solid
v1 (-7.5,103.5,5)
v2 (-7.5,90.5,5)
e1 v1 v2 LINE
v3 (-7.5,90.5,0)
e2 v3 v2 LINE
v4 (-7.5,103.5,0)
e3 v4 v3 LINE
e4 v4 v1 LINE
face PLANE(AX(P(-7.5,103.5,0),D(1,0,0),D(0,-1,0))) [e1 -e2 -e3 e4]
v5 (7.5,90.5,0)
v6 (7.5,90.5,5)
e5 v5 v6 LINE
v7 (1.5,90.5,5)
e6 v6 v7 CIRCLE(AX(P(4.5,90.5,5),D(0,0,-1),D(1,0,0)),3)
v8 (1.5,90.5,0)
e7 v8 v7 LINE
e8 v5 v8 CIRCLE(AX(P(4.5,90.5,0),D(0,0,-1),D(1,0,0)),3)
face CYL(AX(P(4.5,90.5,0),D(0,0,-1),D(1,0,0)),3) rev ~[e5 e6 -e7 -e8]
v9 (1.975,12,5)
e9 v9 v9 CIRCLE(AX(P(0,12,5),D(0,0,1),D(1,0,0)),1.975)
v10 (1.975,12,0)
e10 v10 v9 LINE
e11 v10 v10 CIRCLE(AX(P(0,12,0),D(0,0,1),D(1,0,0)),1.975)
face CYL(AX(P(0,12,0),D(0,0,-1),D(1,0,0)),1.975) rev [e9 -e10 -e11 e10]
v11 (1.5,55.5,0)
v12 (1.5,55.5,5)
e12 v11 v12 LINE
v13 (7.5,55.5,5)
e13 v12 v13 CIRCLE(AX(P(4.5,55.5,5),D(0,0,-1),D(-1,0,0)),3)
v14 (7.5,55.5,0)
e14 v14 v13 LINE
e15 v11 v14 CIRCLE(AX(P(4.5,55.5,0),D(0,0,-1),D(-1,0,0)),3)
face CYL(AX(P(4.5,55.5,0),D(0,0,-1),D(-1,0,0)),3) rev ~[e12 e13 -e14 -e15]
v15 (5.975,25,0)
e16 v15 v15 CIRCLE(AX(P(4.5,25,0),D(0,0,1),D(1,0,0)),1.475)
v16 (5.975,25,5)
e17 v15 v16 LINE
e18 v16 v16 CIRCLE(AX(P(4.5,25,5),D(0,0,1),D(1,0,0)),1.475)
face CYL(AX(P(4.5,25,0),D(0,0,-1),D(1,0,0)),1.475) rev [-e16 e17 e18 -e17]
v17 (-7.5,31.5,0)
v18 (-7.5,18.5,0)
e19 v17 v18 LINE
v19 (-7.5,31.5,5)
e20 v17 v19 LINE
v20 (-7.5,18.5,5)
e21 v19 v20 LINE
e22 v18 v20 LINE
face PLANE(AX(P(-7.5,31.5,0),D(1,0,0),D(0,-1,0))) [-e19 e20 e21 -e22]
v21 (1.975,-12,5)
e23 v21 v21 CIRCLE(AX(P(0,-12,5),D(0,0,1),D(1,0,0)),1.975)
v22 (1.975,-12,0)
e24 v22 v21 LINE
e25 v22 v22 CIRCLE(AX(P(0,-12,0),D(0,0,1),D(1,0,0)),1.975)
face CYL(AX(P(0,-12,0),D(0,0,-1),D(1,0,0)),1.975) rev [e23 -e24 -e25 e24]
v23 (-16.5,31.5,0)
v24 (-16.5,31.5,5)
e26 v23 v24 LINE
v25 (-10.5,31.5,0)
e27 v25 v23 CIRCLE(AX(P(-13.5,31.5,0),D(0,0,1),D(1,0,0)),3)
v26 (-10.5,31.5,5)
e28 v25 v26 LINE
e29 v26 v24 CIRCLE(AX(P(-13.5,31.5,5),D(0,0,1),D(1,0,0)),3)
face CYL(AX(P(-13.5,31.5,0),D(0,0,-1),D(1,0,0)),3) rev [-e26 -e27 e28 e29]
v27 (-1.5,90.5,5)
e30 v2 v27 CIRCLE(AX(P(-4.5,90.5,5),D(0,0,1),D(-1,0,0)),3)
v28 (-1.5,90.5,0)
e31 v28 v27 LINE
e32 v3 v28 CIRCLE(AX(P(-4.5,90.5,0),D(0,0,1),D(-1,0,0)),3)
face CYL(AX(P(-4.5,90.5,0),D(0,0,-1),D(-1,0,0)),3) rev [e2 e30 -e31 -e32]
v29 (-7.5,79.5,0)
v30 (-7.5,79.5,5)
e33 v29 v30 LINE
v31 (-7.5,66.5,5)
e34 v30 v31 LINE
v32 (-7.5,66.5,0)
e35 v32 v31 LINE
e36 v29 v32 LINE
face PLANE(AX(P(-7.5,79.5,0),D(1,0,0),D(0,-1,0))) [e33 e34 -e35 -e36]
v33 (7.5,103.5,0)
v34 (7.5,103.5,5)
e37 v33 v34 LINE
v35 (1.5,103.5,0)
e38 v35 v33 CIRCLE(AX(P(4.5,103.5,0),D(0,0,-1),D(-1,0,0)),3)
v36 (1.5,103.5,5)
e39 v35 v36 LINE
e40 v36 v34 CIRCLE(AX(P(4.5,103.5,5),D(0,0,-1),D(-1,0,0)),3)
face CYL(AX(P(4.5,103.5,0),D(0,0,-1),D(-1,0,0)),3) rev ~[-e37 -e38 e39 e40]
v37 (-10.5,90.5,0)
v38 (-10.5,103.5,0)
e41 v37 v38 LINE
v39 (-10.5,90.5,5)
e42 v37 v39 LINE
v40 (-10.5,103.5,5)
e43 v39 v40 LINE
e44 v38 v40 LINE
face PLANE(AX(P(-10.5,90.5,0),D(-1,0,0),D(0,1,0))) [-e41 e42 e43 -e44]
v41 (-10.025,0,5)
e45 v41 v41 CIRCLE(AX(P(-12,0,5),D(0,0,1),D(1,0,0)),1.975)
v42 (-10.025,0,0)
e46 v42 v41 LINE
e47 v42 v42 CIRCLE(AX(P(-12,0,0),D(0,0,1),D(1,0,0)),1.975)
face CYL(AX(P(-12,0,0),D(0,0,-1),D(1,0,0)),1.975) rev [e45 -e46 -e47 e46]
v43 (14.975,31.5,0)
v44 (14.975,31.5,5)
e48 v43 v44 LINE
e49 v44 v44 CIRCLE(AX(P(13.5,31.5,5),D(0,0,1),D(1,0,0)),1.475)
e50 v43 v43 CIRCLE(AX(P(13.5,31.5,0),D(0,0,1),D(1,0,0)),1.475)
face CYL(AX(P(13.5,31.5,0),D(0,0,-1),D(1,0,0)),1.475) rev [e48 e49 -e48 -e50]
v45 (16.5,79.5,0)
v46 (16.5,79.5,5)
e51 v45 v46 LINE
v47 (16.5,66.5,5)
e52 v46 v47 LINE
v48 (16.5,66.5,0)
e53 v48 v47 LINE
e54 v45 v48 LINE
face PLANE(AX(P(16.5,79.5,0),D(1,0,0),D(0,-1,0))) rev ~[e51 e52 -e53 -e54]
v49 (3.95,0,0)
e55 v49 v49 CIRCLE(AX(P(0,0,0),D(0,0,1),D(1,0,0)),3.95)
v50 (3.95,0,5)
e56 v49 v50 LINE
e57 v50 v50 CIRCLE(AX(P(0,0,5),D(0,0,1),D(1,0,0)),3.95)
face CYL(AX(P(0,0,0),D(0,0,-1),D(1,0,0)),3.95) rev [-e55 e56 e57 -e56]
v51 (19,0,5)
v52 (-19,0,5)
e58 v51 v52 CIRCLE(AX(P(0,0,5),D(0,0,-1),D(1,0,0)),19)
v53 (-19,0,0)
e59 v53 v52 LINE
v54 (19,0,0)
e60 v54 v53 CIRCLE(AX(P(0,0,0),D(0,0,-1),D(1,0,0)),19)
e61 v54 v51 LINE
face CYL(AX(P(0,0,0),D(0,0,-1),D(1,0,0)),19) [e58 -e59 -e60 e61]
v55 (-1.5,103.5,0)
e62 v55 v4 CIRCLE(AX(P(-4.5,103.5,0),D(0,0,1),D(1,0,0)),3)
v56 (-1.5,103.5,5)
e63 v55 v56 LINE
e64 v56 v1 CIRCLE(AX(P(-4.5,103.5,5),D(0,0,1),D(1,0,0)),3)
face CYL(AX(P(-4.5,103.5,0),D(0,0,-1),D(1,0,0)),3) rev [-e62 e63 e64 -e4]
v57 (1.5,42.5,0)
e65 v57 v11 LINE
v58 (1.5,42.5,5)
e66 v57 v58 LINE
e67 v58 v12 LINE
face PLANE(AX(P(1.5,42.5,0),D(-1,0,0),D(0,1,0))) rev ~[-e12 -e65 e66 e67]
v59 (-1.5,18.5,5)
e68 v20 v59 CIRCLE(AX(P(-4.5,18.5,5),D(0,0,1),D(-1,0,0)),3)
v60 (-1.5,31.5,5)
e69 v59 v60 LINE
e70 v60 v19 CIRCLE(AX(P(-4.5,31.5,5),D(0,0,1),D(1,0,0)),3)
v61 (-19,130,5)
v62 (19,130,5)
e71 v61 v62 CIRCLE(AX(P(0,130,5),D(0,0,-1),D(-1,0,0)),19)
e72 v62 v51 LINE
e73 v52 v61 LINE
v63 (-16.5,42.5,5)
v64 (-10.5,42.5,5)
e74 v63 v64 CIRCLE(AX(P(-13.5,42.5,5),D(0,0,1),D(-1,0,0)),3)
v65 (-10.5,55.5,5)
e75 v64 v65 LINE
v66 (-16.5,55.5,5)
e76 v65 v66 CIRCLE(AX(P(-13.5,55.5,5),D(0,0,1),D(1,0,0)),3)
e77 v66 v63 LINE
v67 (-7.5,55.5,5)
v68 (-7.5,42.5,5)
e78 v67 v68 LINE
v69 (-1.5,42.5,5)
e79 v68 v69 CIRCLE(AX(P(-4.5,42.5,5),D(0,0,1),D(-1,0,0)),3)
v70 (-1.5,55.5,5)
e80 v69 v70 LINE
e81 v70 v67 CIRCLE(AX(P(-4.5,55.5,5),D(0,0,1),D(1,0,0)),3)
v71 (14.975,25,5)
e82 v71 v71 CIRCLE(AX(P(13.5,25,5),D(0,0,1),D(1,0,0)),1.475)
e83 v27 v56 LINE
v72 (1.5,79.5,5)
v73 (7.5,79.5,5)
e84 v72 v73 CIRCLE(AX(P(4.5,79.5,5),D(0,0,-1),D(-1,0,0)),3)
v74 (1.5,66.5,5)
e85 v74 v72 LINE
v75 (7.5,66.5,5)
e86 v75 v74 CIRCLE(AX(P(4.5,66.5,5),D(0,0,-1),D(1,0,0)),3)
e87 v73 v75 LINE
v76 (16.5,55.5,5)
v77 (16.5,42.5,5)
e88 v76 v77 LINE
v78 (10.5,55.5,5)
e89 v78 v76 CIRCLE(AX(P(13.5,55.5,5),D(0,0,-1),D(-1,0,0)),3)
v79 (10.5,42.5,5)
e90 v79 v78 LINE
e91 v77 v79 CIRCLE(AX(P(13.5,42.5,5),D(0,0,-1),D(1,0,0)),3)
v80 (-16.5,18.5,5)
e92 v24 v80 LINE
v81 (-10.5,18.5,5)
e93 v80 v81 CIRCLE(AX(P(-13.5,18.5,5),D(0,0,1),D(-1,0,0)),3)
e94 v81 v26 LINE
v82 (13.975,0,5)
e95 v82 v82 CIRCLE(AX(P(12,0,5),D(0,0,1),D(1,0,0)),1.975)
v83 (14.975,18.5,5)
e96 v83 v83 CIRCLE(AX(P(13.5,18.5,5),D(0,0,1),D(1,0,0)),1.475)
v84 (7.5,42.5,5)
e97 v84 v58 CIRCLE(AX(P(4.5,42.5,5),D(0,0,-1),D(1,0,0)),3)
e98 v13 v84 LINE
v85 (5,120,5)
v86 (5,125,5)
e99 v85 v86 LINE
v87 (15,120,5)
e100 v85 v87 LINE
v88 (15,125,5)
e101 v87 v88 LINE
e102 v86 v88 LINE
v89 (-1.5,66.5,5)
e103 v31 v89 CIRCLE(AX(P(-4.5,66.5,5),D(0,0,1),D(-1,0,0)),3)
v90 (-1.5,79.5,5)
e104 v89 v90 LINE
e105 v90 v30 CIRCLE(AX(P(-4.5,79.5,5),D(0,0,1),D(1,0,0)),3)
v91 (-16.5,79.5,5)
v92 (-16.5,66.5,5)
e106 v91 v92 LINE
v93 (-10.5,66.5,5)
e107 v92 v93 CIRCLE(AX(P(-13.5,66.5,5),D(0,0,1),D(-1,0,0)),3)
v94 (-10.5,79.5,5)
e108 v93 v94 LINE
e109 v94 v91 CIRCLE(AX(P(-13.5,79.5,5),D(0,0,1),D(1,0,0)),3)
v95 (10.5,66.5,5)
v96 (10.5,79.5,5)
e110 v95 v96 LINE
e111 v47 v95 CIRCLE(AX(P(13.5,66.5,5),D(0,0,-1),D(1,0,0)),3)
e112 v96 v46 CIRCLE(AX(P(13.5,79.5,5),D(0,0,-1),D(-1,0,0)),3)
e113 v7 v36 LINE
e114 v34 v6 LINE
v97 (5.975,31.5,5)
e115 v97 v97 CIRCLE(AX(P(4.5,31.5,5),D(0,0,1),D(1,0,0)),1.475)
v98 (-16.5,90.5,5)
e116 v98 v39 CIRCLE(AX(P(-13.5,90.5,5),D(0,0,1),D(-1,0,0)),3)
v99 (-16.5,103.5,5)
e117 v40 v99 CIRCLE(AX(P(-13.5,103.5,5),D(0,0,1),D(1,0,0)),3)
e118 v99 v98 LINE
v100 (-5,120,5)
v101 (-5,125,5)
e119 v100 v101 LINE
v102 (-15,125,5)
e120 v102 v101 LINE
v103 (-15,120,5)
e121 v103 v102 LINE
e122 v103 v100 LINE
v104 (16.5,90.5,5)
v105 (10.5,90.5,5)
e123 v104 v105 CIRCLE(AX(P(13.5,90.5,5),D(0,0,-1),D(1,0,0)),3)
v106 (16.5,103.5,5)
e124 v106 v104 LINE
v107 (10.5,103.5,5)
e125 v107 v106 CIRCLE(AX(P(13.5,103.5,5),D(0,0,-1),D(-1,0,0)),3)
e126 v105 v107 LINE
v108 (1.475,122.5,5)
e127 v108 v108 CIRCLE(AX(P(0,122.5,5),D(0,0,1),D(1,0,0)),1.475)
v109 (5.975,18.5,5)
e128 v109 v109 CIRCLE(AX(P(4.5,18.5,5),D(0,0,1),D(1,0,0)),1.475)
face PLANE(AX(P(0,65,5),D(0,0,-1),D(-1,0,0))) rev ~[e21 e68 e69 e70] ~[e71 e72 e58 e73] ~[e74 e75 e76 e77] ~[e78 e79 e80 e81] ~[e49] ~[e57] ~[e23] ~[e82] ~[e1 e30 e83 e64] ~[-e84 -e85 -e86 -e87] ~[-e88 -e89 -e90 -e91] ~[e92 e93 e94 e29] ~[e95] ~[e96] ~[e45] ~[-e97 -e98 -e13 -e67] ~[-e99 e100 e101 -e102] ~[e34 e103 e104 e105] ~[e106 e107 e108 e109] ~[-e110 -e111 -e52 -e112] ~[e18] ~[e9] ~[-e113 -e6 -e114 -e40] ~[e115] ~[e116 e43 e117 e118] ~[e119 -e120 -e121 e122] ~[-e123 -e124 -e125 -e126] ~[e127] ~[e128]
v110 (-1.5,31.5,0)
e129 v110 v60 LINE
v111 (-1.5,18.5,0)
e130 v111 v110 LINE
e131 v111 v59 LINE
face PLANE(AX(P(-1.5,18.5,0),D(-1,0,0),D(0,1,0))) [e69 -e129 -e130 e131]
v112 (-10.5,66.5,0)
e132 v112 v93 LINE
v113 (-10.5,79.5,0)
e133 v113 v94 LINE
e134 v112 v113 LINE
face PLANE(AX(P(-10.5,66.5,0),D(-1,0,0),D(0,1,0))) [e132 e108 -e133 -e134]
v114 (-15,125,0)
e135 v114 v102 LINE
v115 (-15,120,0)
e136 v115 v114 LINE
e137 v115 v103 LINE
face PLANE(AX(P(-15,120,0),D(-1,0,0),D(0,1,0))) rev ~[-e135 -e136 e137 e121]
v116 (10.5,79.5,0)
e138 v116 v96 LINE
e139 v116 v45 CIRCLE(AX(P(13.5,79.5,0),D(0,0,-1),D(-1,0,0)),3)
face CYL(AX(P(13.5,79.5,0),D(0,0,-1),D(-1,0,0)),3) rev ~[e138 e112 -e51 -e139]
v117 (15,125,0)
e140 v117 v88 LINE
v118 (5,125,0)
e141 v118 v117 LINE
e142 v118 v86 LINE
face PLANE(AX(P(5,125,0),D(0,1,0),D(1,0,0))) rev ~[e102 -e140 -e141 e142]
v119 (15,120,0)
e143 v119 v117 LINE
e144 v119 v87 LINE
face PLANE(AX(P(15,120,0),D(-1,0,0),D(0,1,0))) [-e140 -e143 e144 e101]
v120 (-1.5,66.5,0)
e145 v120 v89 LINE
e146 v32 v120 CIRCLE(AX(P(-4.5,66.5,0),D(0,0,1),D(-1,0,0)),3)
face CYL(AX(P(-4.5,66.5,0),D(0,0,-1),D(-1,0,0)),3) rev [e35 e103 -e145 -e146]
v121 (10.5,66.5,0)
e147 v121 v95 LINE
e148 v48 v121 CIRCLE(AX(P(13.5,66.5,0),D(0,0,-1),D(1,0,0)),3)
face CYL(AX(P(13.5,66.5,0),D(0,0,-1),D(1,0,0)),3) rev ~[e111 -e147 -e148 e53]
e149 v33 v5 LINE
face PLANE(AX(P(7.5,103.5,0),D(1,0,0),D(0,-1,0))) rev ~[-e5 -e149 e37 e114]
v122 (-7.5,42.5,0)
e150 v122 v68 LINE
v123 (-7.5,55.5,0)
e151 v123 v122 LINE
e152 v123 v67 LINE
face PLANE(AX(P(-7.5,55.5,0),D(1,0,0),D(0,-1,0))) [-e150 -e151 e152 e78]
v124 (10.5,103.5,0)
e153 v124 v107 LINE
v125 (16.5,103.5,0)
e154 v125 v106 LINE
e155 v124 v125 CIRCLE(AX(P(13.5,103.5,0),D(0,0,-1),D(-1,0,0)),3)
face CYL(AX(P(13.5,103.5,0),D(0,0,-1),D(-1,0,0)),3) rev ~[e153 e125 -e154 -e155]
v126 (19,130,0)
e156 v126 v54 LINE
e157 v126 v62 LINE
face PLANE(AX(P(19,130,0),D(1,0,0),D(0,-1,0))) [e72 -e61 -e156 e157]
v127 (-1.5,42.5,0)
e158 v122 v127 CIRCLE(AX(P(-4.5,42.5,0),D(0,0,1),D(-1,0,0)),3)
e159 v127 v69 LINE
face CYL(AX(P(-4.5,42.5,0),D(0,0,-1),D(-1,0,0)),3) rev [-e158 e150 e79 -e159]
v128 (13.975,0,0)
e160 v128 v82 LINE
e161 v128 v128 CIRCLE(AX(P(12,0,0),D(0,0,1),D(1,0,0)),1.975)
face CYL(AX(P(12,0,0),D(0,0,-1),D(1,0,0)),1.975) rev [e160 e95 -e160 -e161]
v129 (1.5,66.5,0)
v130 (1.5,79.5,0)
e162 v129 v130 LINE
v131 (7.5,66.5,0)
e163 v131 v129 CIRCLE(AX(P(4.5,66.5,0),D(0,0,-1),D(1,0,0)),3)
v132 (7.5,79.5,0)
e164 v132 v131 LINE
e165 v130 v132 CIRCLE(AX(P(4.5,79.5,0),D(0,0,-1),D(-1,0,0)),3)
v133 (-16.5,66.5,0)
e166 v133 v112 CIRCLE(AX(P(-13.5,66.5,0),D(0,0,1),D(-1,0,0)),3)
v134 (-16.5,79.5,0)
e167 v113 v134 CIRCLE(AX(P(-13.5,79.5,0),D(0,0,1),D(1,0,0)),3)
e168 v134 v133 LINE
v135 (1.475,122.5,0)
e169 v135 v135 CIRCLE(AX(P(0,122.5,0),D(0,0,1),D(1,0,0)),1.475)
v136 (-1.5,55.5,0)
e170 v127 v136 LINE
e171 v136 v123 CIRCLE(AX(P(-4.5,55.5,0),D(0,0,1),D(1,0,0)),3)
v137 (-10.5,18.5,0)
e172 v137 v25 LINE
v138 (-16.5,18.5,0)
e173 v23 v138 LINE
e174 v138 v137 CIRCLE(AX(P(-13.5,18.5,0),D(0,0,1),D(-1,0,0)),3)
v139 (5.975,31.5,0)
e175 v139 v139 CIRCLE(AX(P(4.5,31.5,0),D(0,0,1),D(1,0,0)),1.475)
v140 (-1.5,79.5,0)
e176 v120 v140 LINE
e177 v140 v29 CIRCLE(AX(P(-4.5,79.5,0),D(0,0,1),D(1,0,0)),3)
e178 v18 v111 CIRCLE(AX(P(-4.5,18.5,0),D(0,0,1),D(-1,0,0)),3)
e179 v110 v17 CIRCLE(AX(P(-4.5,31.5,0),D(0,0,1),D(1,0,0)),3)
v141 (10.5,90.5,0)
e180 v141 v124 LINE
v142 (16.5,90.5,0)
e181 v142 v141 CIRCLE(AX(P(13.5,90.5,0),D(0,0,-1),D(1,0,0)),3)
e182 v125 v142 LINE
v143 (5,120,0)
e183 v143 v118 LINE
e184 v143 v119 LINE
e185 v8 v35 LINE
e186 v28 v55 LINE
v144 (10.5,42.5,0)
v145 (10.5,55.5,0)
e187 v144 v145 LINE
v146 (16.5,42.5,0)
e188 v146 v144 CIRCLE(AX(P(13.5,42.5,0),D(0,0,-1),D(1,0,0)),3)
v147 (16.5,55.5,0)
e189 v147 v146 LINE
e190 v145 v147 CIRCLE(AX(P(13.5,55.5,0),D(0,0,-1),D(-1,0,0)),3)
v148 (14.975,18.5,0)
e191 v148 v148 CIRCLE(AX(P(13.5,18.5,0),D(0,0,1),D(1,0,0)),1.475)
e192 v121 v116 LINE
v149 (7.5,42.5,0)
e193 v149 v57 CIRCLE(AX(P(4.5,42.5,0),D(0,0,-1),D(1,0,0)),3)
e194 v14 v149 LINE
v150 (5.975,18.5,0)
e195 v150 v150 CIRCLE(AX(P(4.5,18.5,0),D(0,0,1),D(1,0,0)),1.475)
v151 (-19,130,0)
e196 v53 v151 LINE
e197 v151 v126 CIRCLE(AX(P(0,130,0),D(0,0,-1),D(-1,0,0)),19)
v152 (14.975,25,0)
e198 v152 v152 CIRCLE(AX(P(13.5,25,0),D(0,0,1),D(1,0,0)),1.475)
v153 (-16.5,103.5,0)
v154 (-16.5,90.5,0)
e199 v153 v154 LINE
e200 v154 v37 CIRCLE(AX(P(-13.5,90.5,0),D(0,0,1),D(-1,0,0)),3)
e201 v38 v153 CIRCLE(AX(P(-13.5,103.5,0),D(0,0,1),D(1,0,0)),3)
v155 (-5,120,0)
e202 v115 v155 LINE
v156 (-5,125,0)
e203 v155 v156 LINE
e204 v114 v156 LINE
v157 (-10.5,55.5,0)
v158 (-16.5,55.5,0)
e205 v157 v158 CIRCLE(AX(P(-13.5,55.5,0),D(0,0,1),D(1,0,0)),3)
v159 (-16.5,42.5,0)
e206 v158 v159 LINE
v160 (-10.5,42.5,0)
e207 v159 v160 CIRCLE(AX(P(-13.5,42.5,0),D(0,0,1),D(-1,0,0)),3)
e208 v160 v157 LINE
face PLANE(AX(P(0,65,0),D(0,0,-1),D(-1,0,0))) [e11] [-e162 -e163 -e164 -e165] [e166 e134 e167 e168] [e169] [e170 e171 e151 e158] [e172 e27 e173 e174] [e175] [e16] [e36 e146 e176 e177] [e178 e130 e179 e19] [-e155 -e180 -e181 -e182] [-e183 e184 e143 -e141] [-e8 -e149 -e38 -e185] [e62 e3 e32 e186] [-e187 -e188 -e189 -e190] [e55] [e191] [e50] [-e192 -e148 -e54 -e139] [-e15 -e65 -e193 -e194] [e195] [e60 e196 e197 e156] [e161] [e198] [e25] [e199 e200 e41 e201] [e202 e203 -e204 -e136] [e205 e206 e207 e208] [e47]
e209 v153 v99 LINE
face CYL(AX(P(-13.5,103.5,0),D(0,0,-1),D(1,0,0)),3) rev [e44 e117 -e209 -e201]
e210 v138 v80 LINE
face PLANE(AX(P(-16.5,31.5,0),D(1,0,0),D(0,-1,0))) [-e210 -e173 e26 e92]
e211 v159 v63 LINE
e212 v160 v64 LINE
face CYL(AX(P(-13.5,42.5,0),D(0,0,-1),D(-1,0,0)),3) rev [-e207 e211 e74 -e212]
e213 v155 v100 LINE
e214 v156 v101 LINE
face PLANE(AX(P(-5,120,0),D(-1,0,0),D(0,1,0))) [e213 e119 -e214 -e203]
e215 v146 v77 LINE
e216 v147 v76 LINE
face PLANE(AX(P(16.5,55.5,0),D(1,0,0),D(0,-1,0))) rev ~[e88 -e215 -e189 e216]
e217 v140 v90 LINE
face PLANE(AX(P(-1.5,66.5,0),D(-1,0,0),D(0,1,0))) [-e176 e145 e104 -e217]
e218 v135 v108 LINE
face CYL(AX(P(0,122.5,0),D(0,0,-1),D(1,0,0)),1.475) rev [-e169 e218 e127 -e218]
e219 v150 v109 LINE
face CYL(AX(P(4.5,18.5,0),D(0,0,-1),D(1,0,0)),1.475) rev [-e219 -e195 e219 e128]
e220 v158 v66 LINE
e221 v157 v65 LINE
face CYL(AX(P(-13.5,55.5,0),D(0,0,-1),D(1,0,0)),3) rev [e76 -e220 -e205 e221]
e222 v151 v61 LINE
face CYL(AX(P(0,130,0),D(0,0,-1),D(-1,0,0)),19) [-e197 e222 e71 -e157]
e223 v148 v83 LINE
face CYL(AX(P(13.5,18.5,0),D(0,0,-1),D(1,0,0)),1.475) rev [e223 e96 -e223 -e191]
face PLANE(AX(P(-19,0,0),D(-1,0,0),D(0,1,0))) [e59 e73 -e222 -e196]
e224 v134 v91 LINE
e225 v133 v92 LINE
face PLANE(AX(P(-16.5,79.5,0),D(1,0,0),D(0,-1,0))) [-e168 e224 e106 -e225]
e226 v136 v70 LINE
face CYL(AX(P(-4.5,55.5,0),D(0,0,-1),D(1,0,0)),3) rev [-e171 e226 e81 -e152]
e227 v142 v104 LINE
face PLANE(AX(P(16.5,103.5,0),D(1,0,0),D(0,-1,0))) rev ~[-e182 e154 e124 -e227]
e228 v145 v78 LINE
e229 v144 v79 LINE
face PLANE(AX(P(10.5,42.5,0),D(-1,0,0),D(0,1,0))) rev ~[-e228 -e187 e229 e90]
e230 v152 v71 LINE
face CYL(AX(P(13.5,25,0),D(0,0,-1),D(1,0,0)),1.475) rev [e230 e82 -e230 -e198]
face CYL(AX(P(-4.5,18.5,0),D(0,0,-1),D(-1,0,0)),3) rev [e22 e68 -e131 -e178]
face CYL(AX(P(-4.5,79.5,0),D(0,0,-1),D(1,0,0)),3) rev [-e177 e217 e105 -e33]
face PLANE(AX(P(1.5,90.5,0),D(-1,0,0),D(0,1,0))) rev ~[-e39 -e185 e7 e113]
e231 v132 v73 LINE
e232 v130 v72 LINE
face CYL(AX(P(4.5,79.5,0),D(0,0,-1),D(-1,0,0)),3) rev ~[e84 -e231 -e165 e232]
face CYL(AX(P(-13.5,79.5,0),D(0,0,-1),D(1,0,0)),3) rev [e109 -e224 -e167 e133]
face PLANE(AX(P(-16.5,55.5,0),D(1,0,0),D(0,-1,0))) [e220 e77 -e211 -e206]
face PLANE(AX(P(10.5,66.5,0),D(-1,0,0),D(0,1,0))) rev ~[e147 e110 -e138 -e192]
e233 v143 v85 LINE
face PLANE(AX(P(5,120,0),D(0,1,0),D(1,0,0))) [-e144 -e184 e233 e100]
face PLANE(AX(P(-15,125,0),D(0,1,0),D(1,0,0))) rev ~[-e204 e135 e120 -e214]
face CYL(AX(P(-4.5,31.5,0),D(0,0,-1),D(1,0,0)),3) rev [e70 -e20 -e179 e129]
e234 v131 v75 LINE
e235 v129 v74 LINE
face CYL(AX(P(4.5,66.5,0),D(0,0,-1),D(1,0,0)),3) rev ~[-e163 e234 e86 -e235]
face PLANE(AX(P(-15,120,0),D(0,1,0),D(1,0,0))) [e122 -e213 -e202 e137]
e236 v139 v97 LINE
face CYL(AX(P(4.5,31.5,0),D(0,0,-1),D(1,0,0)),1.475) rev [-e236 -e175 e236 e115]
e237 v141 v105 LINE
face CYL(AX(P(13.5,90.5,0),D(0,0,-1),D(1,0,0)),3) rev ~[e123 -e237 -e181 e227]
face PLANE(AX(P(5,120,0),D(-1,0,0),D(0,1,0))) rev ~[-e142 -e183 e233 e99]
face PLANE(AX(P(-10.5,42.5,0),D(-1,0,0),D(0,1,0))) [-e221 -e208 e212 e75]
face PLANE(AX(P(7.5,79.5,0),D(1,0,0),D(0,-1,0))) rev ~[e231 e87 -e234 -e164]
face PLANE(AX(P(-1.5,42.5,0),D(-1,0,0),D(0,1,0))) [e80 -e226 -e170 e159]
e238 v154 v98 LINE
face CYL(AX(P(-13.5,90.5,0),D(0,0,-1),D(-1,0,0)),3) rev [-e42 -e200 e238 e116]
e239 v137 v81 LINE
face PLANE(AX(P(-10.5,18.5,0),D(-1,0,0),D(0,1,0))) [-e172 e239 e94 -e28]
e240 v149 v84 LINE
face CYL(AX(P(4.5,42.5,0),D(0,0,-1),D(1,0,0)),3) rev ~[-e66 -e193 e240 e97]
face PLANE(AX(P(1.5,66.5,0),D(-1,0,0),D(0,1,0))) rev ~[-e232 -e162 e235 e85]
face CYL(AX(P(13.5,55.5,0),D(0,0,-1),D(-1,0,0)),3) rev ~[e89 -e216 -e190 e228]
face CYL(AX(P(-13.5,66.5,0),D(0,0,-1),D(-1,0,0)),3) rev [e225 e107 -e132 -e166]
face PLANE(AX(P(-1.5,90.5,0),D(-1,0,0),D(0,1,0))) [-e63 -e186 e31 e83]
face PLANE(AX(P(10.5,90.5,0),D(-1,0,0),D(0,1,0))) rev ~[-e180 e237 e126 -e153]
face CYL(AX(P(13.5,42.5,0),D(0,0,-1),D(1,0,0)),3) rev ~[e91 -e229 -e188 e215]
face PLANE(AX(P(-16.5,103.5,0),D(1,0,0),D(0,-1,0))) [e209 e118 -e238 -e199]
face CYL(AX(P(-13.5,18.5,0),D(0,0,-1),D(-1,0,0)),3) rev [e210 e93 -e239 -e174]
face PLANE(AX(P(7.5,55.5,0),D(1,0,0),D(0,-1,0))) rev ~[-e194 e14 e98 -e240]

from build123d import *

# Parameters (mm, degrees)
SKETCH1_R           = 3.95
SKETCH1_R_2         = 1.975
SKETCH1_R_3         = 1.475
SKETCH1_W           = 10
SKETCH1_H           = 5
BOSS_EXTRUDE1_DEPTH = 5


with BuildPart() as part:
    # Sketch1 → Boss-Extrude1 (new body)
    with BuildSketch(Plane.XY):
        with BuildLine():
            Line((-19, 0), (-19, 130))
            ThreePointArc((-19, 130), (0, 149), (19, 130))
            Line((19, 130), (19, 0))
            ThreePointArc((19, 0), (0, -19), (-19, 0))
        make_face()
        Circle(SKETCH1_R, mode=Mode.SUBTRACT)
        with Locations((0, 12)):
            Circle(SKETCH1_R_2, mode=Mode.SUBTRACT)
        with Locations((12, 0)):
            Circle(SKETCH1_R_2, mode=Mode.SUBTRACT)
        with Locations((0, -12)):
            Circle(SKETCH1_R_2, mode=Mode.SUBTRACT)
        with Locations((-12, 0)):
            Circle(SKETCH1_R_2, mode=Mode.SUBTRACT)
        with Locations((13.5, 25)):
            Circle(SKETCH1_R_3, mode=Mode.SUBTRACT)
        with Locations((4.5, 25)):
            Circle(SKETCH1_R_3, mode=Mode.SUBTRACT)
        with Locations((13.5, 31.5)):
            Circle(SKETCH1_R_3, mode=Mode.SUBTRACT)
        with Locations((4.5, 31.5)):
            Circle(SKETCH1_R_3, mode=Mode.SUBTRACT)
        with Locations((13.5, 18.5)):
            Circle(SKETCH1_R_3, mode=Mode.SUBTRACT)
        with Locations((4.5, 18.5)):
            Circle(SKETCH1_R_3, mode=Mode.SUBTRACT)
        with Locations((0, 122.5)):
            Circle(SKETCH1_R_3, mode=Mode.SUBTRACT)
        with BuildLine():
            Line((7.5, 103.5), (7.5, 90.5))
            ThreePointArc((7.5, 90.5), (4.5, 87.5), (1.5, 90.5))
            Line((1.5, 90.5), (1.5, 103.5))
            ThreePointArc((1.5, 103.5), (4.5, 106.5), (7.5, 103.5))
        make_face(mode=Mode.SUBTRACT)
        with BuildLine():
            Line((-7.5, 103.5), (-7.5, 90.5))
            ThreePointArc((-7.5, 90.5), (-4.5, 87.5), (-1.5, 90.5))
            Line((-1.5, 90.5), (-1.5, 103.5))
            ThreePointArc((-1.5, 103.5), (-4.5, 106.5), (-7.5, 103.5))
        make_face(mode=Mode.SUBTRACT)
        with BuildLine():
            Line((16.5, 103.5), (16.5, 90.5))
            ThreePointArc((16.5, 90.5), (13.5, 87.5), (10.5, 90.5))
            Line((10.5, 90.5), (10.5, 103.5))
            ThreePointArc((10.5, 103.5), (13.5, 106.5), (16.5, 103.5))
        make_face(mode=Mode.SUBTRACT)
        with BuildLine():
            Line((-16.5, 103.5), (-16.5, 90.5))
            ThreePointArc((-16.5, 90.5), (-13.5, 87.5), (-10.5, 90.5))
            Line((-10.5, 90.5), (-10.5, 103.5))
            ThreePointArc((-10.5, 103.5), (-13.5, 106.5), (-16.5, 103.5))
        make_face(mode=Mode.SUBTRACT)
        with BuildLine():
            Line((7.5, 79.5), (7.5, 66.5))
            ThreePointArc((7.5, 66.5), (4.5, 63.5), (1.5, 66.5))
            Line((1.5, 66.5), (1.5, 79.5))
            ThreePointArc((1.5, 79.5), (4.5, 82.5), (7.5, 79.5))
        make_face(mode=Mode.SUBTRACT)
        with BuildLine():
            Line((-7.5, 79.5), (-7.5, 66.5))
            ThreePointArc((-7.5, 66.5), (-4.5, 63.5), (-1.5, 66.5))
            Line((-1.5, 66.5), (-1.5, 79.5))
            ThreePointArc((-1.5, 79.5), (-4.5, 82.5), (-7.5, 79.5))
        make_face(mode=Mode.SUBTRACT)
        with BuildLine():
            Line((16.5, 79.5), (16.5, 66.5))
            ThreePointArc((16.5, 66.5), (13.5, 63.5), (10.5, 66.5))
            Line((10.5, 66.5), (10.5, 79.5))
            ThreePointArc((10.5, 79.5), (13.5, 82.5), (16.5, 79.5))
        make_face(mode=Mode.SUBTRACT)
        with BuildLine():
            Line((-16.5, 79.5), (-16.5, 66.5))
            ThreePointArc((-16.5, 66.5), (-13.5, 63.5), (-10.5, 66.5))
            Line((-10.5, 66.5), (-10.5, 79.5))
            ThreePointArc((-10.5, 79.5), (-13.5, 82.5), (-16.5, 79.5))
        make_face(mode=Mode.SUBTRACT)
        with BuildLine():
            Line((7.5, 55.5), (7.5, 42.5))
            ThreePointArc((7.5, 42.5), (4.5, 39.5), (1.5, 42.5))
            Line((1.5, 42.5), (1.5, 55.5))
            ThreePointArc((1.5, 55.5), (4.5, 58.5), (7.5, 55.5))
        make_face(mode=Mode.SUBTRACT)
        with BuildLine():
            Line((-7.5, 55.5), (-7.5, 42.5))
            ThreePointArc((-7.5, 42.5), (-4.5, 39.5), (-1.5, 42.5))
            Line((-1.5, 42.5), (-1.5, 55.5))
            ThreePointArc((-1.5, 55.5), (-4.5, 58.5), (-7.5, 55.5))
        make_face(mode=Mode.SUBTRACT)
        with BuildLine():
            Line((16.5, 55.5), (16.5, 42.5))
            ThreePointArc((16.5, 42.5), (13.5, 39.5), (10.5, 42.5))
            Line((10.5, 42.5), (10.5, 55.5))
            ThreePointArc((10.5, 55.5), (13.5, 58.5), (16.5, 55.5))
        make_face(mode=Mode.SUBTRACT)
        with BuildLine():
            Line((-16.5, 55.5), (-16.5, 42.5))
            ThreePointArc((-16.5, 42.5), (-13.5, 39.5), (-10.5, 42.5))
            Line((-10.5, 42.5), (-10.5, 55.5))
            ThreePointArc((-10.5, 55.5), (-13.5, 58.5), (-16.5, 55.5))
        make_face(mode=Mode.SUBTRACT)
        with BuildLine():
            Line((-7.5, 31.5), (-7.5, 18.5))
            ThreePointArc((-7.5, 18.5), (-4.5, 15.5), (-1.5, 18.5))
            Line((-1.5, 18.5), (-1.5, 31.5))
            ThreePointArc((-1.5, 31.5), (-4.5, 34.5), (-7.5, 31.5))
        make_face(mode=Mode.SUBTRACT)
        with BuildLine():
            Line((-16.5, 31.5), (-16.5, 18.5))
            ThreePointArc((-16.5, 18.5), (-13.5, 15.5), (-10.5, 18.5))
            Line((-10.5, 18.5), (-10.5, 31.5))
            ThreePointArc((-10.5, 31.5), (-13.5, 34.5), (-16.5, 31.5))
        make_face(mode=Mode.SUBTRACT)
        with Locations((10, 122.5)):
            Rectangle(SKETCH1_W, SKETCH1_H, mode=Mode.SUBTRACT)
        with Locations((-10, 122.5)):
            Rectangle(SKETCH1_W, SKETCH1_H, mode=Mode.SUBTRACT)
    extrude(amount=BOSS_EXTRUDE1_DEPTH)


solid = part.part
